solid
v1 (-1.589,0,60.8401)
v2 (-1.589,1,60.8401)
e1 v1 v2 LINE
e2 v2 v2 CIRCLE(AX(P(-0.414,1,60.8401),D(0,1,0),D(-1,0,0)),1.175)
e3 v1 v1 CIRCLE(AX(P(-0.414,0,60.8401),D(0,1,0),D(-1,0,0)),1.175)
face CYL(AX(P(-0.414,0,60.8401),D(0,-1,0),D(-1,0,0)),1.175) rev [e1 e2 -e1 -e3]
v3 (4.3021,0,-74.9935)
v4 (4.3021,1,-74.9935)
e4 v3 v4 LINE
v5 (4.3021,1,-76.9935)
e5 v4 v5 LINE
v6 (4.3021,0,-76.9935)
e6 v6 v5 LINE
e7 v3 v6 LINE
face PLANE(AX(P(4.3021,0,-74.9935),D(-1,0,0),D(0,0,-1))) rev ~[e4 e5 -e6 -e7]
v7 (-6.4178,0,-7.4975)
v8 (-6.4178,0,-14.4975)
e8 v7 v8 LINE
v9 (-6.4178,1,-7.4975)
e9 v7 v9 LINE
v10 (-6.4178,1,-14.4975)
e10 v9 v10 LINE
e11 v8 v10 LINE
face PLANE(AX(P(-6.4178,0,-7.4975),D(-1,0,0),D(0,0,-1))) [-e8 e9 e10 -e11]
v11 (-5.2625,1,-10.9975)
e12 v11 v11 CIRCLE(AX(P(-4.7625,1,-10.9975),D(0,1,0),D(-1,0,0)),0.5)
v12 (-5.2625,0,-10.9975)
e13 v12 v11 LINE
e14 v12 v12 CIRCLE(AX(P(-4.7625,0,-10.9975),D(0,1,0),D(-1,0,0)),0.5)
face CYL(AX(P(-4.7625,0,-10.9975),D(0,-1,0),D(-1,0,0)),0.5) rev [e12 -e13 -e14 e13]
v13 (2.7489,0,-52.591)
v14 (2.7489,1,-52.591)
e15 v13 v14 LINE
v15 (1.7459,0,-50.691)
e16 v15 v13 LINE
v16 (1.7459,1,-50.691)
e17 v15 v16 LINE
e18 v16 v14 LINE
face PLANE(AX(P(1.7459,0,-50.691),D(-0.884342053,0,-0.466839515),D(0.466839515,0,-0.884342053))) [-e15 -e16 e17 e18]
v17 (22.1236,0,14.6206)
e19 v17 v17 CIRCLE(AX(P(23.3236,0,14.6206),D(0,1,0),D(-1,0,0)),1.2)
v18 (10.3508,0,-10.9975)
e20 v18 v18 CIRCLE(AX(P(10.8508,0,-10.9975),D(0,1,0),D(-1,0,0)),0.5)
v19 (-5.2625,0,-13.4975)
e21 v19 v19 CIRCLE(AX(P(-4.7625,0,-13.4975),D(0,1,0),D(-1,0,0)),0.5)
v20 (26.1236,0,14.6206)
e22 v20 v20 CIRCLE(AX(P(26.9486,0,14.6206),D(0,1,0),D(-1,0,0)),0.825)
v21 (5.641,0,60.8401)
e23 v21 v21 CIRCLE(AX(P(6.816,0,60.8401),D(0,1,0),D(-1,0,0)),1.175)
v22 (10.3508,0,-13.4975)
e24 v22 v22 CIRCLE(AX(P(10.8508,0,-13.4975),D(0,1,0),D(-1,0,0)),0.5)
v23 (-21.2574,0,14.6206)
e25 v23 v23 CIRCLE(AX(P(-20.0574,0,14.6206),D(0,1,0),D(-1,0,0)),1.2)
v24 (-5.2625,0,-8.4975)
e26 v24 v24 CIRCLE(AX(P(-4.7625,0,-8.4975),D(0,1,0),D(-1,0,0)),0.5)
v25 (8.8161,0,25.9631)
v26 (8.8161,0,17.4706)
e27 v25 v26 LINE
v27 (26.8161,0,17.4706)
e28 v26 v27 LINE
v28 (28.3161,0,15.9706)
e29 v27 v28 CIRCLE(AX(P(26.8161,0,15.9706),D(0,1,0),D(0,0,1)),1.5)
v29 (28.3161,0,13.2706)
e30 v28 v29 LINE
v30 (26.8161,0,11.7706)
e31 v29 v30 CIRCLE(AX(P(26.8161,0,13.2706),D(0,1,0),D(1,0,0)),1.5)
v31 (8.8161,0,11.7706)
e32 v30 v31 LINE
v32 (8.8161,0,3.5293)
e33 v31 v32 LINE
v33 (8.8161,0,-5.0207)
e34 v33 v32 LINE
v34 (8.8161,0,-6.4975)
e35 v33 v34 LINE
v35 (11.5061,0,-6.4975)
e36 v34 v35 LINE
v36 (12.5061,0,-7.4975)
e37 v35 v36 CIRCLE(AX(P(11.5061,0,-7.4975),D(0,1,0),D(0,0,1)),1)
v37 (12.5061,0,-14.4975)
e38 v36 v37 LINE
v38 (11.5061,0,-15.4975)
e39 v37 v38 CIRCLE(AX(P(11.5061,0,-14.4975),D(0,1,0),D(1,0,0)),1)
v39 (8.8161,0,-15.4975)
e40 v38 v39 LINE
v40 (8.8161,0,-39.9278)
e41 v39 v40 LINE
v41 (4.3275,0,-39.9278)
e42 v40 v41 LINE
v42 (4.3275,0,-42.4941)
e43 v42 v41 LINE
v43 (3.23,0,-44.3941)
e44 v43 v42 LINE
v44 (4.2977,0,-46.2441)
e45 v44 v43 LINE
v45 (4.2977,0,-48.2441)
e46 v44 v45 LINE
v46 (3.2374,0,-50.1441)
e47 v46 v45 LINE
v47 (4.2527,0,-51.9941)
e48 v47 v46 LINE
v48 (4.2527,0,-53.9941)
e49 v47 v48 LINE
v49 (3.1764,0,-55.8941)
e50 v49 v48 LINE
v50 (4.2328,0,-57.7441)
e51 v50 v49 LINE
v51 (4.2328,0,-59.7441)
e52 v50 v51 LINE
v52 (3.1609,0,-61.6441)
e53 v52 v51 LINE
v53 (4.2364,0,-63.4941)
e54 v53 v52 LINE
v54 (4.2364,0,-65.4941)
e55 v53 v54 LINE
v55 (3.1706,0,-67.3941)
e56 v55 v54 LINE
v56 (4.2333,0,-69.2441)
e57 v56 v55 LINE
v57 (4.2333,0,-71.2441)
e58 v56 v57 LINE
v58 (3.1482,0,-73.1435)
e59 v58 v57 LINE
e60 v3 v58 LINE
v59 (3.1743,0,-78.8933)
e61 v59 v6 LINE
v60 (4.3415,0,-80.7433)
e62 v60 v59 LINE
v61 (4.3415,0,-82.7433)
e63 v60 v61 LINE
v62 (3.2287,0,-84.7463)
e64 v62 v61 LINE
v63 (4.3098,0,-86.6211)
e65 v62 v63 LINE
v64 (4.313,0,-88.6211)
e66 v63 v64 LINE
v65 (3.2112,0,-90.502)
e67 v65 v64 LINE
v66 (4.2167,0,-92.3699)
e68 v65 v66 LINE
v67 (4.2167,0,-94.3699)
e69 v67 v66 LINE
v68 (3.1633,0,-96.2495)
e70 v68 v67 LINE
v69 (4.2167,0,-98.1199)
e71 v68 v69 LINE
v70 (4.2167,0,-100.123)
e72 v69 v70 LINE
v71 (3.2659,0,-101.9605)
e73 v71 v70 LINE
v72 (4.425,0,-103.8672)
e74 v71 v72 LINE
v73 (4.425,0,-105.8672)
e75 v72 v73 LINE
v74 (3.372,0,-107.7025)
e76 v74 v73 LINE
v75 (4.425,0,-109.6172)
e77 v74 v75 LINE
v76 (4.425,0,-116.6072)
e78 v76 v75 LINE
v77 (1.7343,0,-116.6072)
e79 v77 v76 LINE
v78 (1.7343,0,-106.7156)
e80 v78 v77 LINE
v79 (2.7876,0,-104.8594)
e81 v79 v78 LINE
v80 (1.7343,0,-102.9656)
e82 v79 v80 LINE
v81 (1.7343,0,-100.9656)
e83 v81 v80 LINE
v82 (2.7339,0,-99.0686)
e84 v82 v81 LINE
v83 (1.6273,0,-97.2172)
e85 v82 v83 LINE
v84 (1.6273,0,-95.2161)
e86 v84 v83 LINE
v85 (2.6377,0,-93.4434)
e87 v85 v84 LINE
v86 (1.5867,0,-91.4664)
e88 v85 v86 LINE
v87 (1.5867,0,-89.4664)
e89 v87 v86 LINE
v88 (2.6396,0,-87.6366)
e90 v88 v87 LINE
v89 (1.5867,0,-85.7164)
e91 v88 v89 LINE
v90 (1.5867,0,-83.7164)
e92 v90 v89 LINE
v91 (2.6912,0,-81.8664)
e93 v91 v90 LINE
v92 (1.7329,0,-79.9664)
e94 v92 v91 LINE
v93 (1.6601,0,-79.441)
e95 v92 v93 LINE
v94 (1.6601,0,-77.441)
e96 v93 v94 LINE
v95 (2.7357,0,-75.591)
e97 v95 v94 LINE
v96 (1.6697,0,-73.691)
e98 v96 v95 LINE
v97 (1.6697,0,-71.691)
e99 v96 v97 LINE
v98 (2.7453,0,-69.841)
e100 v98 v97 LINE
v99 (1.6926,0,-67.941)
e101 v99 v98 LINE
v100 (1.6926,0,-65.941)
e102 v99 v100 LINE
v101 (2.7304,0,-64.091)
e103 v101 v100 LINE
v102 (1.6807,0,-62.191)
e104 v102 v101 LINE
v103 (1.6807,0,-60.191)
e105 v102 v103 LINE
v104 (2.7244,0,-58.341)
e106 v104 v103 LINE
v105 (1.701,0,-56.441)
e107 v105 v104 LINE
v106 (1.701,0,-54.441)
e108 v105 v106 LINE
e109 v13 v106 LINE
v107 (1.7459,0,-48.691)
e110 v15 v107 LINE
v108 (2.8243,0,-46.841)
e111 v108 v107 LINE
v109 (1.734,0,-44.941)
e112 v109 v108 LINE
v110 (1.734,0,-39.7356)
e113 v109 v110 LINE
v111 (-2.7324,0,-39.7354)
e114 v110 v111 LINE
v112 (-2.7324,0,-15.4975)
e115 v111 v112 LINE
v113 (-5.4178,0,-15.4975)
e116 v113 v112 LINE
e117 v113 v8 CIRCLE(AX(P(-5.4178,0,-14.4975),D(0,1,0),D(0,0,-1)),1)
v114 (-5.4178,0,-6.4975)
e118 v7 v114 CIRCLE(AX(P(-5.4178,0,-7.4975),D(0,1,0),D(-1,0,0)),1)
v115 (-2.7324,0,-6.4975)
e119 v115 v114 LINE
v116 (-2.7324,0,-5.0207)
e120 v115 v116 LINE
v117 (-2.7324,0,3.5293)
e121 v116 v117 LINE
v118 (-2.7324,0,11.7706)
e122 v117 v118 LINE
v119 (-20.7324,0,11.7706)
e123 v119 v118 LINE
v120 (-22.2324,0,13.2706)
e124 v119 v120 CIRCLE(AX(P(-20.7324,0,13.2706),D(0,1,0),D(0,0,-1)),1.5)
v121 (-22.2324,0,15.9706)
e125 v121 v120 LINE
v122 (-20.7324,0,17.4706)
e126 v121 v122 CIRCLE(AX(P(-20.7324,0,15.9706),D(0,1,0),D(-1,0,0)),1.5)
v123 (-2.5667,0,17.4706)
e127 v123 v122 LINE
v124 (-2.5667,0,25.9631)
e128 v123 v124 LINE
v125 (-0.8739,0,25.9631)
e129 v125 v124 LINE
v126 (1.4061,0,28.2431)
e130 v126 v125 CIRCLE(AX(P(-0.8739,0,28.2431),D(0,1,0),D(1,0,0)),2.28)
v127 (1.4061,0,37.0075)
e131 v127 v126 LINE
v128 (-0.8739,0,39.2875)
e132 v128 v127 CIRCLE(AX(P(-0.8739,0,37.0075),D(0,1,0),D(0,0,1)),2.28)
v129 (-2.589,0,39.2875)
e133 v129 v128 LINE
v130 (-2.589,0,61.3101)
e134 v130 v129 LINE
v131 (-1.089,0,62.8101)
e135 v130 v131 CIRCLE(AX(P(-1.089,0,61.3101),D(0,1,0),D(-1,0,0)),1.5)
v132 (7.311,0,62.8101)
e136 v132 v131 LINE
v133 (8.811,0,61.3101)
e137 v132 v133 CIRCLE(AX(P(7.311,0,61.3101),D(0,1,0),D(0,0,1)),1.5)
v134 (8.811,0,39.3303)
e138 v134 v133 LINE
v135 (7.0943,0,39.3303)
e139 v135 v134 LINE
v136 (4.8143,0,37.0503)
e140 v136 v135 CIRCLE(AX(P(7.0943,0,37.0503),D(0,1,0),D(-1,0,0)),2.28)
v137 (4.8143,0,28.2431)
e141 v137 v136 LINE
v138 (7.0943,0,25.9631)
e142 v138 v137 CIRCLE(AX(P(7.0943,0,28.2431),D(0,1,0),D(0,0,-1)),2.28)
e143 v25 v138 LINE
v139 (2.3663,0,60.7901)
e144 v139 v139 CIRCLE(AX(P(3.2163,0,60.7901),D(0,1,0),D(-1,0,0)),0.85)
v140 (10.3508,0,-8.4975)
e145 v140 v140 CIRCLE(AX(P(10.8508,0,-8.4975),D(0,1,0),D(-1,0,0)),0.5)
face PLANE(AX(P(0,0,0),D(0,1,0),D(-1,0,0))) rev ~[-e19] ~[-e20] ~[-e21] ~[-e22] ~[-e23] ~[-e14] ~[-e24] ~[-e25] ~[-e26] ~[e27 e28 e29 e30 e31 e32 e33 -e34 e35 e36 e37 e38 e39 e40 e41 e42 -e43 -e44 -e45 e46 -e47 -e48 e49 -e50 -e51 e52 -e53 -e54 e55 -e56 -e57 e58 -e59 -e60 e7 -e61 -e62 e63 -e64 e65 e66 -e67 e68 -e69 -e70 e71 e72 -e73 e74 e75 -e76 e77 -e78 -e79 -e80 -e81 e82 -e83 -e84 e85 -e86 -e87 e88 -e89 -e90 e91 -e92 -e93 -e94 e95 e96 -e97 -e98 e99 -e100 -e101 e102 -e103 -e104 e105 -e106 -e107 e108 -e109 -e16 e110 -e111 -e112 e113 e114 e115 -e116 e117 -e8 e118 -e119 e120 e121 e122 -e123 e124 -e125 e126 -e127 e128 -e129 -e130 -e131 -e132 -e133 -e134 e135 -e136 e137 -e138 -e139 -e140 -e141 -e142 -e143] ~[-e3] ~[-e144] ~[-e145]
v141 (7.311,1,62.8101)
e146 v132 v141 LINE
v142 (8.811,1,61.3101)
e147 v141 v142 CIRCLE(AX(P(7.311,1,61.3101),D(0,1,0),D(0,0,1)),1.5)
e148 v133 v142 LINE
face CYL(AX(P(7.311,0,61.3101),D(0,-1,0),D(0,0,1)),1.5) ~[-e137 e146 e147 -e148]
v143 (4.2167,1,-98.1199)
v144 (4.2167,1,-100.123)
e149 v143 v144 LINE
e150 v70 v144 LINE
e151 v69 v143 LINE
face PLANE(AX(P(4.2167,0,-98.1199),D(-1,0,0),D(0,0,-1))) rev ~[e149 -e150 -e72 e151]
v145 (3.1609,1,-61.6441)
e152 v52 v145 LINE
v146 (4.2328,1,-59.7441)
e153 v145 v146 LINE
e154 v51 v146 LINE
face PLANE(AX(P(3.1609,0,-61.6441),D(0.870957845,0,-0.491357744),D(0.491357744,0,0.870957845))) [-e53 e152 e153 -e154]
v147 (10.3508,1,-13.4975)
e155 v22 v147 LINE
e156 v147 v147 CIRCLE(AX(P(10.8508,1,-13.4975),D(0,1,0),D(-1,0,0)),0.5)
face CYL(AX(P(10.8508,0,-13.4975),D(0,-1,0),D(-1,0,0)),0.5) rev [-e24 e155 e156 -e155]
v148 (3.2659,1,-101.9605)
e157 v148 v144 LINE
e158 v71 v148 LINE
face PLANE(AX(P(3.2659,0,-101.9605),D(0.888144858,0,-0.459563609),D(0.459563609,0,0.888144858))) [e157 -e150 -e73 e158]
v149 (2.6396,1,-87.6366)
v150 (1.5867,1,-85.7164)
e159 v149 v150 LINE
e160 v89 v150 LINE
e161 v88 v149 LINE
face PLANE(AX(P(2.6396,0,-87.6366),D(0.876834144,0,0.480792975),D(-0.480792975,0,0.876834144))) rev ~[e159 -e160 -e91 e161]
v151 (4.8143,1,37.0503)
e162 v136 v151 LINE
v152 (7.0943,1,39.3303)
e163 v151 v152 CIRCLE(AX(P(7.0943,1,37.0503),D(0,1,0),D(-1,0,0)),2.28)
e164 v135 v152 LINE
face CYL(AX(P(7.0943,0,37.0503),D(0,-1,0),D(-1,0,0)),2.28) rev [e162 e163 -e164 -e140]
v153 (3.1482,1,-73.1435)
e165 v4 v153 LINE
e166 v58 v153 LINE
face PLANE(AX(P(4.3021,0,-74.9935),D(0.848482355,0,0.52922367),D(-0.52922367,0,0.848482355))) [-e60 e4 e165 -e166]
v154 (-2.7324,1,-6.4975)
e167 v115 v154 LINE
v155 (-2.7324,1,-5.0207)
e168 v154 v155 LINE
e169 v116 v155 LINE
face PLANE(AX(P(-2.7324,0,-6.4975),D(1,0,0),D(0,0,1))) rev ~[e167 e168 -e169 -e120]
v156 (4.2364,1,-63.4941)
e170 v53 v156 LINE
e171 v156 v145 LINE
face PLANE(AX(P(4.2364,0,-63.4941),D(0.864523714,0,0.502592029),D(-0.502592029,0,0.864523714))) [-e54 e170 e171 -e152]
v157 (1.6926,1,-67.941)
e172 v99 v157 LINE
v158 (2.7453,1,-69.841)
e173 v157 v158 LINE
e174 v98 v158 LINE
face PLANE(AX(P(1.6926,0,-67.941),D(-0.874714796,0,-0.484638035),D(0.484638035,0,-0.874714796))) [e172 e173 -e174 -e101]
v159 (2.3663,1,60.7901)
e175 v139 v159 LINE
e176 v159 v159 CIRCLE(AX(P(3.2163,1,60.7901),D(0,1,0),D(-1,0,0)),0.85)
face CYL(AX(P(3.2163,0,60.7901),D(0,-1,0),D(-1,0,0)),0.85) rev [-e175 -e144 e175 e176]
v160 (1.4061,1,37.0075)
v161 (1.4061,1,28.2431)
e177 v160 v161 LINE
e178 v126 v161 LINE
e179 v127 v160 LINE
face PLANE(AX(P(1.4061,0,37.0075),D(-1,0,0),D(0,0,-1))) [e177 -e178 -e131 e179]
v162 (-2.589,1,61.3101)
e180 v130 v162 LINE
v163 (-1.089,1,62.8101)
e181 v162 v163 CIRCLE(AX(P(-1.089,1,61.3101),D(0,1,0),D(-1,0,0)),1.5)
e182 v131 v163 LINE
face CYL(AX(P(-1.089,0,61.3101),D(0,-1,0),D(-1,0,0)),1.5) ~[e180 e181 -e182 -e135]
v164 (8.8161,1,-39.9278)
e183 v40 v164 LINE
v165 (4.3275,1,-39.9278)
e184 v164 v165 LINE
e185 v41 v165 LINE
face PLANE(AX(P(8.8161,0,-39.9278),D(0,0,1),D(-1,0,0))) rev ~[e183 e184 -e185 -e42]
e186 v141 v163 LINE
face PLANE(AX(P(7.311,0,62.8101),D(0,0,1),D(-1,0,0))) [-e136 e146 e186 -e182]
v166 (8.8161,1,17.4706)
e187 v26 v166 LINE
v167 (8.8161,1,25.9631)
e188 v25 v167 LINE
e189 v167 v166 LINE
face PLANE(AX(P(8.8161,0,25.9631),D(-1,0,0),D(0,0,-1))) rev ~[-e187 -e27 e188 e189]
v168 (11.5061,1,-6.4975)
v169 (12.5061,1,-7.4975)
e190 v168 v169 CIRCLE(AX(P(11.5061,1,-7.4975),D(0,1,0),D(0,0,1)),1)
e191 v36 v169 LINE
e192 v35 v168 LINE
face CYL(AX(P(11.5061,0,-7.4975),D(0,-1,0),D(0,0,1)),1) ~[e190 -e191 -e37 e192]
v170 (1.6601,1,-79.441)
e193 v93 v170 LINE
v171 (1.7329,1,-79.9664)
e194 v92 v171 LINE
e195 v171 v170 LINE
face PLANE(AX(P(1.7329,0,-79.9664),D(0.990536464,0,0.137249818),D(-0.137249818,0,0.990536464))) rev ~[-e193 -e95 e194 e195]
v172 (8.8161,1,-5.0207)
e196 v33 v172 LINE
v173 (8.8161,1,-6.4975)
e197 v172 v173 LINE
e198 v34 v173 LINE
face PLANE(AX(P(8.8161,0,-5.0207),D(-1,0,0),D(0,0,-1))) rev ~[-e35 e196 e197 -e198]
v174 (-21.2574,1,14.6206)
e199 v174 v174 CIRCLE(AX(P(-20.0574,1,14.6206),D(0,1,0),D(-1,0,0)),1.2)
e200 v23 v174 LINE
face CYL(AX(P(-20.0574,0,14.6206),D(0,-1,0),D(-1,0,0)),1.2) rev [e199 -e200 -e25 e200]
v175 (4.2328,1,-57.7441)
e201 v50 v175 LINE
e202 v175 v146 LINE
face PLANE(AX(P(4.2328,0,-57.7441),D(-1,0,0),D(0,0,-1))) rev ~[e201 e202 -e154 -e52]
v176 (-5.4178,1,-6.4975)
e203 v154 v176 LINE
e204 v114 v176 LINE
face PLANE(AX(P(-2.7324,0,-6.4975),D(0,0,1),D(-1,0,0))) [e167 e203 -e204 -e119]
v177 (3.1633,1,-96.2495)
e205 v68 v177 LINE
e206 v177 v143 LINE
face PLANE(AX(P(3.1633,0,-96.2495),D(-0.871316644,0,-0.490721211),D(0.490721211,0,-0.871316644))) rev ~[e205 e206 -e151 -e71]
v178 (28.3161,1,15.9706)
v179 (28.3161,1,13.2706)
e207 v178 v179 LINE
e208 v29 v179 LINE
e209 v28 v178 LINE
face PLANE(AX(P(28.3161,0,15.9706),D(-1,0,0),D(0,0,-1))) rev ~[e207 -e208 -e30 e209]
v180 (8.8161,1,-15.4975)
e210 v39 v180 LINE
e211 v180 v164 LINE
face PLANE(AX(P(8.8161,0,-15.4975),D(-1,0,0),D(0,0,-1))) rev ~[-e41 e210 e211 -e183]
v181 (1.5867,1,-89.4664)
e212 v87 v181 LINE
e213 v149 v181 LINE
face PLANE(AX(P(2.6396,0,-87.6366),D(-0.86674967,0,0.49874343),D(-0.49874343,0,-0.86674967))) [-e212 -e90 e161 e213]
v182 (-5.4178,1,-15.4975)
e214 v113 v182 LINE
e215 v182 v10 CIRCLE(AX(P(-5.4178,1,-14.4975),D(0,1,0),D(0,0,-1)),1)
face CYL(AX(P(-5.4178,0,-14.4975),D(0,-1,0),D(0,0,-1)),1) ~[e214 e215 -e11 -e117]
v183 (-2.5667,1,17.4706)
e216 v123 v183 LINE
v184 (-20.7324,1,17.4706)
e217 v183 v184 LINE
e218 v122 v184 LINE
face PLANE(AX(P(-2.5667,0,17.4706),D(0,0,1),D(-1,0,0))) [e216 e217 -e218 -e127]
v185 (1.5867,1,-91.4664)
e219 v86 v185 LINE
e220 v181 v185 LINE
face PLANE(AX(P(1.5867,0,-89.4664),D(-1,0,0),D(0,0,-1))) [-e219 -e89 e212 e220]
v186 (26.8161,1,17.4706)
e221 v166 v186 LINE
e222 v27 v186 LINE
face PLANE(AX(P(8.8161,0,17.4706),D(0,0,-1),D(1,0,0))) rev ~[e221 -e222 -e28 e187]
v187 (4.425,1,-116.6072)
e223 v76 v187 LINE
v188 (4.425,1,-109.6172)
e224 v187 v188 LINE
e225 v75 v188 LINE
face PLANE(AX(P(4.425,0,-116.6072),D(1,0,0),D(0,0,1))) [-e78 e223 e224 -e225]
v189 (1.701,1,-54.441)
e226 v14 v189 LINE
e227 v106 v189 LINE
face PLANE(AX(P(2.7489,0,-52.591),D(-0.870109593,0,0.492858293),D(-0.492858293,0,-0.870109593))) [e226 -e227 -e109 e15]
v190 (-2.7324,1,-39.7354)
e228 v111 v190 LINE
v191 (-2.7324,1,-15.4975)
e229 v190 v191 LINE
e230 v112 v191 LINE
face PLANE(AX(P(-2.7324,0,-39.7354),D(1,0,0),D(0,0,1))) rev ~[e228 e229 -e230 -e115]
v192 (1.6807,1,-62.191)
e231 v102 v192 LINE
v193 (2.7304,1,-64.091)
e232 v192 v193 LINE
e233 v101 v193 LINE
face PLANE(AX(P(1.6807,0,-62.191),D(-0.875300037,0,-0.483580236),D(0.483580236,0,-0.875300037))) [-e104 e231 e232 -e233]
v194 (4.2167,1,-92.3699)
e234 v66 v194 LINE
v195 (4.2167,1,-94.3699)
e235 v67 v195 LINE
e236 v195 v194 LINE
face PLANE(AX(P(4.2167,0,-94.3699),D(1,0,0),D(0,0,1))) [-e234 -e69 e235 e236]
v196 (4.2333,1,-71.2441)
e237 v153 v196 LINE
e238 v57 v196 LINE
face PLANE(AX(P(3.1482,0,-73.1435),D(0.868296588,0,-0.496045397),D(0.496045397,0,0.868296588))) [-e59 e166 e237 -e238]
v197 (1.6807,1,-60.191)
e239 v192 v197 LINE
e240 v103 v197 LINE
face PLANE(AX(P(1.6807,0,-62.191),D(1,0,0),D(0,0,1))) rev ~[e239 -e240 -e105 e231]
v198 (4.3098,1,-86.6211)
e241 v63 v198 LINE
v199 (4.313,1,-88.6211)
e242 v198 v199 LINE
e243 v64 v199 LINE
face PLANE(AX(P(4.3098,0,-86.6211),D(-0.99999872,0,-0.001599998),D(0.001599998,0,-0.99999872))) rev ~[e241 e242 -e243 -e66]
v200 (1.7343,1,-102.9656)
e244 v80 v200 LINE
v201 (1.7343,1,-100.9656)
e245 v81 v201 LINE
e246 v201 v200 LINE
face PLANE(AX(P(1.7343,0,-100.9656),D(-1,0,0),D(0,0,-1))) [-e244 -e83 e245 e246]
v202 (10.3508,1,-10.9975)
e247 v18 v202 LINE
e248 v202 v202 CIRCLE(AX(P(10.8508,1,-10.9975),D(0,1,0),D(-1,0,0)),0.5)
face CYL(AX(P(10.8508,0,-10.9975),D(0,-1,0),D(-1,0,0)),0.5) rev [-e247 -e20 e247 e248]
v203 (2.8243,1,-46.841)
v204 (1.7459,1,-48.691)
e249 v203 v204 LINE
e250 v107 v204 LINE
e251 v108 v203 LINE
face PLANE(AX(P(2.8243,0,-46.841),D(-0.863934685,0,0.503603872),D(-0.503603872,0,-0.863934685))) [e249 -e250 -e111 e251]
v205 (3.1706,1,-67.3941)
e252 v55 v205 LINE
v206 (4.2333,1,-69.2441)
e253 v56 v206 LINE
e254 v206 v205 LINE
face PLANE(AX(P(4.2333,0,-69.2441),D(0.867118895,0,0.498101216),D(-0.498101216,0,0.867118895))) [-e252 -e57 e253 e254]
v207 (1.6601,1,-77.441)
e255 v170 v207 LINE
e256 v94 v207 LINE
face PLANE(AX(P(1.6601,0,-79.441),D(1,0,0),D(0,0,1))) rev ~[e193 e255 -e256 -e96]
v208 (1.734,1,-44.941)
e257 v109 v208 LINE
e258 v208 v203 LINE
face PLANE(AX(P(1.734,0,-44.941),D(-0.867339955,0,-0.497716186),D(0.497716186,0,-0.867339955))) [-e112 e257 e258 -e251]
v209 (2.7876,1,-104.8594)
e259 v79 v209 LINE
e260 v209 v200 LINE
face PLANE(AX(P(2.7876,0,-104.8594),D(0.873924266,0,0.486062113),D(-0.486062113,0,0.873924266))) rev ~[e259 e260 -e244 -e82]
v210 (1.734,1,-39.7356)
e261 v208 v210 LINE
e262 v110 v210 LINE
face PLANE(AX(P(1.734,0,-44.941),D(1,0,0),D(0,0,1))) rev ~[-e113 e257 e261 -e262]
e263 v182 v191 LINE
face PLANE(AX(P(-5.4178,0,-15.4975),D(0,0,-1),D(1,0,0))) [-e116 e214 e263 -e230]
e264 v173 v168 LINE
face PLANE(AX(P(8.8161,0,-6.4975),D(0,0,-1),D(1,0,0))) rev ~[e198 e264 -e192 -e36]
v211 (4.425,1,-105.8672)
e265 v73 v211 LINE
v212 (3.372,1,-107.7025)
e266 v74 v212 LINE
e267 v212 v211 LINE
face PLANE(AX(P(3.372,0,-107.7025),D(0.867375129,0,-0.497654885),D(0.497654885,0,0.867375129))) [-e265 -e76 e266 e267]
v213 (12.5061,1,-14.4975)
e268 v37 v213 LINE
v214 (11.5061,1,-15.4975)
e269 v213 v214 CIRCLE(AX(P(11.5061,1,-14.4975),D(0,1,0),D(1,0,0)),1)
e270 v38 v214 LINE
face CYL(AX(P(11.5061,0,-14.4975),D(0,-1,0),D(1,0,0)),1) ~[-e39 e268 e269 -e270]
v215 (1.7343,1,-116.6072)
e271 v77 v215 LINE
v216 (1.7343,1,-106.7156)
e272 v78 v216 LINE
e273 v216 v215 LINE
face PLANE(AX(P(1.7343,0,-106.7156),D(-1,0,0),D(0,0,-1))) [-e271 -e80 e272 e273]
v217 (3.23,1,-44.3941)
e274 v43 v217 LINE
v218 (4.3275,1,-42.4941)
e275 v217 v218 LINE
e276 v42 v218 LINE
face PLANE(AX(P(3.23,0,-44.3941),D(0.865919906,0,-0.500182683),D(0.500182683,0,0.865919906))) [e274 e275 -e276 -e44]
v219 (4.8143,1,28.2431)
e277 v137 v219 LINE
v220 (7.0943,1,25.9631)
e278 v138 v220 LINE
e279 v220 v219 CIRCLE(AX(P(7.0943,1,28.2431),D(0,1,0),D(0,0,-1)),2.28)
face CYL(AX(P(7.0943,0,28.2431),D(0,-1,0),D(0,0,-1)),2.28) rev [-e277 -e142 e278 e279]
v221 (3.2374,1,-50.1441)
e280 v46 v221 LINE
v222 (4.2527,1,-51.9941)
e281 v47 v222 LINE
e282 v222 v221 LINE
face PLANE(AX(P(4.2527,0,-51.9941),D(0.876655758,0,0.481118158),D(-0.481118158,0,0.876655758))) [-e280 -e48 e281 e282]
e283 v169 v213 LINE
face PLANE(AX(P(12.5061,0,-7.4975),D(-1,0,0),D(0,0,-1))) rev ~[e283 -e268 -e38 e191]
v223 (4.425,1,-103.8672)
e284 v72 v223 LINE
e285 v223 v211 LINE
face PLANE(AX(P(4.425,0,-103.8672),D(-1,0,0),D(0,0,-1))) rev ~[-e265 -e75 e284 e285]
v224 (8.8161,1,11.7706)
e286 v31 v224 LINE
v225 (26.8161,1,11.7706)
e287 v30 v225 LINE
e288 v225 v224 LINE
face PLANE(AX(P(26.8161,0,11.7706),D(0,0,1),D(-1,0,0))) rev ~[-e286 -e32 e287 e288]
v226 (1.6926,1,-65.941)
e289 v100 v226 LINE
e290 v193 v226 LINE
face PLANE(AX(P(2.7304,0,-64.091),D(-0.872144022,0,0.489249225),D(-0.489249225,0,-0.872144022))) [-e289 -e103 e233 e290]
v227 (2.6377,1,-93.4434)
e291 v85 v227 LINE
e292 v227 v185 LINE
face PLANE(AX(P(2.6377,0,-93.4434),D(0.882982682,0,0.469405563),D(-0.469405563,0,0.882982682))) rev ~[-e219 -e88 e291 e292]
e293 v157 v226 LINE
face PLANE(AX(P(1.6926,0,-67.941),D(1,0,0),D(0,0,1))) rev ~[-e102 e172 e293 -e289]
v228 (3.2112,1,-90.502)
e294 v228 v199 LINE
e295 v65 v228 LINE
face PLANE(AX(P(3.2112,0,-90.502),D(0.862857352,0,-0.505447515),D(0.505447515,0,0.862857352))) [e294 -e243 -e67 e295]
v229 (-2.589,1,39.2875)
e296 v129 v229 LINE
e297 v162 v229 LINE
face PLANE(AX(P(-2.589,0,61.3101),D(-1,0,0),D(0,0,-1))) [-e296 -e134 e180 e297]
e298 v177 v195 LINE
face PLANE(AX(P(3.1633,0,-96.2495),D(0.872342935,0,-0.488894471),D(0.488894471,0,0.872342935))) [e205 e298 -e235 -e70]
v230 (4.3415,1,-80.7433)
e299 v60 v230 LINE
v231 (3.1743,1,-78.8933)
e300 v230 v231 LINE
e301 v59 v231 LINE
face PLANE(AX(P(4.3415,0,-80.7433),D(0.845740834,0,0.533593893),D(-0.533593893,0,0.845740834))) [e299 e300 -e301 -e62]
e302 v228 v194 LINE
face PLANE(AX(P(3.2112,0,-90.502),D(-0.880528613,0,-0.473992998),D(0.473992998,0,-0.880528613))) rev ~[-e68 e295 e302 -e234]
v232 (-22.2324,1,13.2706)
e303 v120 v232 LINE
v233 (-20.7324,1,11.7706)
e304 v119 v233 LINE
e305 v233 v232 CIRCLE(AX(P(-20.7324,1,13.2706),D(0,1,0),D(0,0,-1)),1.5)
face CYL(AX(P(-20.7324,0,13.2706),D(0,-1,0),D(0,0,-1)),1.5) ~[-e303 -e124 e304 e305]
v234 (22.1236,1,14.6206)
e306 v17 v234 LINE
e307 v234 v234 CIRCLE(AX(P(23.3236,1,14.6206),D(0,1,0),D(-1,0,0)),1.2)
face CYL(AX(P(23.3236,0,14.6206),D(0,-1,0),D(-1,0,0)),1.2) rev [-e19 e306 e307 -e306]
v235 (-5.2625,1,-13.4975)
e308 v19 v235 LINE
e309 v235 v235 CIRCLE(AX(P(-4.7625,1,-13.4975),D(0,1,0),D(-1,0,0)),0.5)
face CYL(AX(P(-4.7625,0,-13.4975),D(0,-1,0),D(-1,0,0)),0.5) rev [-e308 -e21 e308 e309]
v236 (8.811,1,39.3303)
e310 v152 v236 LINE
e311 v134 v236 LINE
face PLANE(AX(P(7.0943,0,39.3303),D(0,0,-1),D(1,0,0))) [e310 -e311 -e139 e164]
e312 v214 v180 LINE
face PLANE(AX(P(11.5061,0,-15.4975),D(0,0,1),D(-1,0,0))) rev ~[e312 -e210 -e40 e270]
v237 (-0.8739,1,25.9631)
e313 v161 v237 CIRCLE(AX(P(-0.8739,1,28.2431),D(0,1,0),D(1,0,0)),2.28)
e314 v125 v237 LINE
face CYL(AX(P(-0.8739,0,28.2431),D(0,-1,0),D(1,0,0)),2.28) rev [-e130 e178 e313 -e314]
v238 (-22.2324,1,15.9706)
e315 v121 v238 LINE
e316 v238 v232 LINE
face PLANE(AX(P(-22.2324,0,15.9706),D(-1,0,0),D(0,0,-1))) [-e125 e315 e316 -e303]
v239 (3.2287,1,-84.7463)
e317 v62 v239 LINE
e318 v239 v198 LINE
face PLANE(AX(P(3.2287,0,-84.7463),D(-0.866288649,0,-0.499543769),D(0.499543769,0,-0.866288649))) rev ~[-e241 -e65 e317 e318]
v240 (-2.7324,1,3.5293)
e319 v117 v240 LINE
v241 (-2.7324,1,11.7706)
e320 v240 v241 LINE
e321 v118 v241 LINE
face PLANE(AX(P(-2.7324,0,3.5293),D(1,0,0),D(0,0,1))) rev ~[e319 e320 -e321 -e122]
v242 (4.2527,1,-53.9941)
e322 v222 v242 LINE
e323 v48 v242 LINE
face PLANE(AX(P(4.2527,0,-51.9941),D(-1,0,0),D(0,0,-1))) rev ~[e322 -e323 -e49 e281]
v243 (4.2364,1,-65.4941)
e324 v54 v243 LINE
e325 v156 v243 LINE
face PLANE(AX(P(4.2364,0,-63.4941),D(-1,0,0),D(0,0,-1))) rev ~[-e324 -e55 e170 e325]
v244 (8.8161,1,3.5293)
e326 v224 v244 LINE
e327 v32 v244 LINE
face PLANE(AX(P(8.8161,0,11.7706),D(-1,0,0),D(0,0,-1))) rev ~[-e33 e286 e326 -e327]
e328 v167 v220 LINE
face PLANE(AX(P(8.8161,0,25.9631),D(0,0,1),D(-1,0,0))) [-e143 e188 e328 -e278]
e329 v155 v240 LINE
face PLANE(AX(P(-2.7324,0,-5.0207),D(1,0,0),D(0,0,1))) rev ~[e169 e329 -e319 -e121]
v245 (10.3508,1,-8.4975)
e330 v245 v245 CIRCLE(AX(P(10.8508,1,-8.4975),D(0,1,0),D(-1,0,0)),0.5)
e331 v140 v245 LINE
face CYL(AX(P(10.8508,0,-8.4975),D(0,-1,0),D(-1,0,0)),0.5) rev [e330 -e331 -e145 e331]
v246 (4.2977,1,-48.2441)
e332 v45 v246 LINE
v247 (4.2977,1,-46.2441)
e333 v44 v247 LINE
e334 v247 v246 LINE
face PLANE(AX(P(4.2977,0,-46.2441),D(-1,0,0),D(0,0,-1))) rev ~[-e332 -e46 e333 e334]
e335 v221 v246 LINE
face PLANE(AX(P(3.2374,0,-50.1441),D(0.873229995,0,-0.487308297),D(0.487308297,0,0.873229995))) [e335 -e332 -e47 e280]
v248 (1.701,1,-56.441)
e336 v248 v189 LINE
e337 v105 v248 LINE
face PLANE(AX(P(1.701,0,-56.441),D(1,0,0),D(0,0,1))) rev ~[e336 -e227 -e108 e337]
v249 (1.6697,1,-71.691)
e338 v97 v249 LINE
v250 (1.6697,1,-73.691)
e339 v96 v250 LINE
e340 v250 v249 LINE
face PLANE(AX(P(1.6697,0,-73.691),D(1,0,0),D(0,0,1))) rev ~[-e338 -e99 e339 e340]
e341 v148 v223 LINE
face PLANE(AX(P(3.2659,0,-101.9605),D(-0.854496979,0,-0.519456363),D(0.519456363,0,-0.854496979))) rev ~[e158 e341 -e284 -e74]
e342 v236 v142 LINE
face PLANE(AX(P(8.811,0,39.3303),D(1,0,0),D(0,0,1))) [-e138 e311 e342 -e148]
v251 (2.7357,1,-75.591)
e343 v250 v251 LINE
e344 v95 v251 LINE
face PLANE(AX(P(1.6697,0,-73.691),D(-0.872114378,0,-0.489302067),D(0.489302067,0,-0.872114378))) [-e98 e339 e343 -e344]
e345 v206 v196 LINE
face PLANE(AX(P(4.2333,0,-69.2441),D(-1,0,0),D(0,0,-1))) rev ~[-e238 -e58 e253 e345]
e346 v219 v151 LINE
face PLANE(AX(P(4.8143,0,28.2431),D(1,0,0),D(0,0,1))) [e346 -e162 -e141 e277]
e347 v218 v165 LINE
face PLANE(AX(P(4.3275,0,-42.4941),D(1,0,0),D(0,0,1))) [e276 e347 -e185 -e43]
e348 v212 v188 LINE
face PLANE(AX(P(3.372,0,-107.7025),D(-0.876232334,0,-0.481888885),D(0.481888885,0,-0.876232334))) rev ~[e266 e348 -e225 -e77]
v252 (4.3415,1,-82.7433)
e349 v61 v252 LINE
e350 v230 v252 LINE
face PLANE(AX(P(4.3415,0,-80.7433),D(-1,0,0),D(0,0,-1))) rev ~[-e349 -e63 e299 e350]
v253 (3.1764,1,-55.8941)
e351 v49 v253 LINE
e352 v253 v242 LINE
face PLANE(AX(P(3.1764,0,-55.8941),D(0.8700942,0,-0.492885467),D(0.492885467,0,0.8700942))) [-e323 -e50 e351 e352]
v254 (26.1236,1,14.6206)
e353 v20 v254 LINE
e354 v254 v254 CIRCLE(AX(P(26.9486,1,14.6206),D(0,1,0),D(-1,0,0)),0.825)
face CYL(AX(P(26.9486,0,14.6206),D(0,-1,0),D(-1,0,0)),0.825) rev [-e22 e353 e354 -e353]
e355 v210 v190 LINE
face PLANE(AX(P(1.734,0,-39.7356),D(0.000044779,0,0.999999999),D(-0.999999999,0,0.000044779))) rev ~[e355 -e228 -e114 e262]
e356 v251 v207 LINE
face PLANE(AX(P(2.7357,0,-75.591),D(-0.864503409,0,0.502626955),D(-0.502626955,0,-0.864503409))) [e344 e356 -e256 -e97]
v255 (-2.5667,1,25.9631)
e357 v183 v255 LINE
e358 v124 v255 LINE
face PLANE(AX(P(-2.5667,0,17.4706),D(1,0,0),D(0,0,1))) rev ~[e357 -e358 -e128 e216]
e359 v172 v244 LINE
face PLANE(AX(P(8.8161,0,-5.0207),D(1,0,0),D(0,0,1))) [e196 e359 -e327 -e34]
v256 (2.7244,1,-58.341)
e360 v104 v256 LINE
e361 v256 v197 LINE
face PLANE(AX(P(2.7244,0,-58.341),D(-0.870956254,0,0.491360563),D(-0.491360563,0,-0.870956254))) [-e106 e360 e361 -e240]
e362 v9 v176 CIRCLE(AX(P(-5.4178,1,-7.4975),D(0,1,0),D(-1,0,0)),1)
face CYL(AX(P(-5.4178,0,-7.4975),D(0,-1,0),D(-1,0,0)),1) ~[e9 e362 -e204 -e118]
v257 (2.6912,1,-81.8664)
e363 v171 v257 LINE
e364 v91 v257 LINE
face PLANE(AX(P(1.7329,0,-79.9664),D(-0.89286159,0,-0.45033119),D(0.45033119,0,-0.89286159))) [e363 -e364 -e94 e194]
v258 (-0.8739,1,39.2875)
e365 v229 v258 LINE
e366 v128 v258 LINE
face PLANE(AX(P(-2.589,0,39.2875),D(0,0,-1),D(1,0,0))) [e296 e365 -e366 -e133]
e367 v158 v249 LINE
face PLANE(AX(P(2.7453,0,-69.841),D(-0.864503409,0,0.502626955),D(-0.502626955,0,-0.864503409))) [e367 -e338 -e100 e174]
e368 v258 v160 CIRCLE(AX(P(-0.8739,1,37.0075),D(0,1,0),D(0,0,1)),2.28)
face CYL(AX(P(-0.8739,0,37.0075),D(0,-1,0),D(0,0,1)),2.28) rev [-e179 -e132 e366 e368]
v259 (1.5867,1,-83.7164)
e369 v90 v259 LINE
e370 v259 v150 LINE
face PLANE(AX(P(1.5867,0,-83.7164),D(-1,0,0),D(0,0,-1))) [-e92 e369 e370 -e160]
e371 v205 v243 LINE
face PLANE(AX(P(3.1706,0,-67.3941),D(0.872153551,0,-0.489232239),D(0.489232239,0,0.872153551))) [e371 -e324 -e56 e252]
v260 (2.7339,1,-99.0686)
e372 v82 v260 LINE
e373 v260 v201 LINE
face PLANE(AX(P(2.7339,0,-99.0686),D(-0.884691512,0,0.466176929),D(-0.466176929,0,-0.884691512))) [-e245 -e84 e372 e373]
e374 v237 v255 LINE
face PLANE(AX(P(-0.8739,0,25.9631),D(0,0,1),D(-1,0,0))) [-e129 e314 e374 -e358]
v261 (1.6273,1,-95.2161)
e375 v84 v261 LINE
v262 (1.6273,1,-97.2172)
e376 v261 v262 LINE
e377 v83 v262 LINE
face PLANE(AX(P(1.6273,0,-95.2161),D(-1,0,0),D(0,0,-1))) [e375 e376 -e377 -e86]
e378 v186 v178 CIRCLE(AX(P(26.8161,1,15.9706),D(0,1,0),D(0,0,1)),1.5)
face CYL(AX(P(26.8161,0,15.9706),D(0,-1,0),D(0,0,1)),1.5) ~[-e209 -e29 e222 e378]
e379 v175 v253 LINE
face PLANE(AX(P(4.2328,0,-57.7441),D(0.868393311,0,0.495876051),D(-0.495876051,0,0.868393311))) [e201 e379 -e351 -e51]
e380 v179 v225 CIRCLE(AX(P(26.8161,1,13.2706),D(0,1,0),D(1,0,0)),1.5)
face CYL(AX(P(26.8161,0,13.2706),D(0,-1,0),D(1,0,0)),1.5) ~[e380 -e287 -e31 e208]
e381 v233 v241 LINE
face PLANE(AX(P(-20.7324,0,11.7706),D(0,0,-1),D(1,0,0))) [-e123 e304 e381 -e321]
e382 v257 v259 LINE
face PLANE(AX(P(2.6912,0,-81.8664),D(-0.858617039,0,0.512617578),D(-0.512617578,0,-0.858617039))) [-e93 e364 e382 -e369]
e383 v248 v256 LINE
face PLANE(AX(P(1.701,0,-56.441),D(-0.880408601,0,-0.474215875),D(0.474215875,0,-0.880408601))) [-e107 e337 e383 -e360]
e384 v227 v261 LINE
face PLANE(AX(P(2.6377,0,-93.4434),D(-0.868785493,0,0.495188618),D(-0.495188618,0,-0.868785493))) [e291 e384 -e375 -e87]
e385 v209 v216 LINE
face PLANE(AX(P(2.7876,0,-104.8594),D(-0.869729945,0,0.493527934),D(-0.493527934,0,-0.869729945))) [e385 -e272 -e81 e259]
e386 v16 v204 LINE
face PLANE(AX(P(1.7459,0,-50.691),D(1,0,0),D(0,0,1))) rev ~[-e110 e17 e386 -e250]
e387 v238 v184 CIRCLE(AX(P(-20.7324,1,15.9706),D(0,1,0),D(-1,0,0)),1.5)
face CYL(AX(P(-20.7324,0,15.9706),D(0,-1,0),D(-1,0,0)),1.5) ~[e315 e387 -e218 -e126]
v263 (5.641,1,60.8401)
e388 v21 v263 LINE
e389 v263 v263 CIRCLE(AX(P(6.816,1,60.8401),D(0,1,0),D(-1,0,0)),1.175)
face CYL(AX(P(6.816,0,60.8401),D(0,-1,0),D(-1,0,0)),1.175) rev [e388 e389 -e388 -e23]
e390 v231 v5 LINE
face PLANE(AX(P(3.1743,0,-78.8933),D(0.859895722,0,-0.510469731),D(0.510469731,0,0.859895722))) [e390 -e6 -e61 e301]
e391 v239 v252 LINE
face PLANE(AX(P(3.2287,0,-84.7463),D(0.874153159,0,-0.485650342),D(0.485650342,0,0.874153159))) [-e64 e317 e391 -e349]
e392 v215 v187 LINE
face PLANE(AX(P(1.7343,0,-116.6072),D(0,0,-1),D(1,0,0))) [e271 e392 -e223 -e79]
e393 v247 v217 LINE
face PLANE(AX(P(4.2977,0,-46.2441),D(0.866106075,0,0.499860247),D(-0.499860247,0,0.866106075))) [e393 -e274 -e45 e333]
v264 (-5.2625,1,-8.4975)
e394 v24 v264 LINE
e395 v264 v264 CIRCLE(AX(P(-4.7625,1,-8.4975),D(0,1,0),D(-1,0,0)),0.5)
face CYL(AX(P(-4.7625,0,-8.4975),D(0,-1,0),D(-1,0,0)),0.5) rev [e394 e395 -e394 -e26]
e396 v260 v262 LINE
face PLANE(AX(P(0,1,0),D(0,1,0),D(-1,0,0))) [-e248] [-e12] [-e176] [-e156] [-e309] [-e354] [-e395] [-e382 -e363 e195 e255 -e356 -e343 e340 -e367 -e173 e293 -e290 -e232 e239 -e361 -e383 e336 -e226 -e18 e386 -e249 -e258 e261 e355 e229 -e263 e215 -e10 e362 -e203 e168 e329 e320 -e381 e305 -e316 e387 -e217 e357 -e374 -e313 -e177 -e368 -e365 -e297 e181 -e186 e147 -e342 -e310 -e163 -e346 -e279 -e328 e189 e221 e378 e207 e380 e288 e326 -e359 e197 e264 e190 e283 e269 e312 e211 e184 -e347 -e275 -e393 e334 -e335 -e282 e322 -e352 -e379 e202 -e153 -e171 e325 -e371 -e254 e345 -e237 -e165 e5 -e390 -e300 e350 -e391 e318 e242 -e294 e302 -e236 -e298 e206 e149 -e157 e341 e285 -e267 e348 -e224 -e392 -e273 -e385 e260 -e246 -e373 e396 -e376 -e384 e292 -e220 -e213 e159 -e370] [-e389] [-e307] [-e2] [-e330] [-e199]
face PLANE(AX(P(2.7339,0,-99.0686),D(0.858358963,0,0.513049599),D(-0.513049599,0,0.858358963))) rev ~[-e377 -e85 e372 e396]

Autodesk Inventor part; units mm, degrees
ref_plane "YZ Plane" through (0, 0, 0) normal (1, 0, 0) x (0, 1, 0)
ref_plane "XZ Plane" through (0, 0, 0) normal (0, 1, 0) x (-1, 0, 0)
ref_plane "XY Plane" through (0, 0, 0) normal (0, 0, 1) x (1, 0, 0)
sketch "Sketch1" plane through (0, 0, 0) normal (0, 1, 0) x (-1, 0, 0)
  line L0 (-8.8161, 25.9631) -> (-8.8161, 17.4706)
  line L1 (2.7324, -39.7354) -> (2.7324, -15.4975)
  line L2 (-8.811, 39.3303) -> (-8.811, 61.3101)
  line L3 (-7.311, 62.8101) -> (1.089, 62.8101)
  line L4 (2.589, 61.3101) -> (2.589, 39.2875)
  circle A0 centre (0.414, 60.8401) radius 1.175
  circle A1 centre (-6.816, 60.8401) radius 1.175
  line L5 (-8.8161, 25.9631) -> (-7.0943, 25.9631)
  line L6 (-4.8143, 28.2431) -> (-4.8143, 37.0503)
  line L7 (-7.0943, 39.3303) -> (-8.811, 39.3303)
  line L8 (2.589, 39.2875) -> (0.8739, 39.2875)
  line L9 (-1.4061, 37.0075) -> (-1.4061, 28.2431)
  line L10 (0.8739, 25.9631) -> (2.5667, 25.9631)
  arc A2 (0.8739, 39.2875) -> (-1.4061, 37.0075) centre (0.8739, 37.0075) ccw
  arc A3 (-1.4061, 28.2431) -> (0.8739, 25.9631) centre (0.8739, 28.2431) ccw
  arc A4 (-7.0943, 25.9631) -> (-4.8143, 28.2431) centre (-7.0943, 28.2431) ccw
  arc A5 (-4.8143, 37.0503) -> (-7.0943, 39.3303) centre (-7.0943, 37.0503) ccw
  line L11 (2.5667, 17.4706) -> (20.7324, 17.4706)
  line L12 (22.2324, 15.9706) -> (22.2324, 13.2706)
  line L13 (20.7324, 11.7706) -> (2.7324, 11.7706)
  line L14 (-8.8161, 17.4706) -> (-26.8161, 17.4706)
  line L15 (-28.3161, 15.9706) -> (-28.3161, 13.2706)
  line L16 (-26.8161, 11.7706) -> (-8.8161, 11.7706)
  line L17 (2.7324, -6.4975) -> (5.4178, -6.4975)
  line L18 (6.4178, -7.4975) -> (6.4178, -14.4975)
  line L19 (5.4178, -15.4975) -> (2.7324, -15.4975)
  line L20 (-8.8161, -6.4975) -> (-11.5061, -6.4975)
  line L21 (-12.5061, -7.4975) -> (-12.5061, -14.4975)
  line L22 (-11.5061, -15.4975) -> (-8.8161, -15.4975)
  circle A6 centre (-3.2163, 60.7901) radius 0.85
  circle A7 centre (-10.8508, -10.9975) radius 0.5
  circle A8 centre (-10.8508, -13.4975) radius 0.5
  circle A9 centre (4.7625, -10.9975) radius 0.5
  circle A10 centre (4.7625, -13.4975) radius 0.5
  circle A11 centre (-23.3236, 14.6206) radius 1.2
  circle A12 centre (-26.9486, 14.6206) radius 0.825
  circle A13 centre (20.0574, 14.6206) radius 1.2
  line L23 (-8.8161, 11.7706) -> (-8.8161, 3.5293)
  line L24 (2.5667, 17.4706) -> (2.5667, 25.9631)
  line L25 (2.7324, 3.5293) -> (2.7324, 11.7706)
  line L26 (-8.8161, -5.0207) -> (-8.8161, -6.4975)
  line L27 (2.7324, -6.4975) -> (2.7324, -5.0207)
  line L28 (-8.8161, -15.4975) -> (-8.8161, -39.9278)
  arc A14 (2.589, 61.3101) -> (1.089, 62.8101) centre (1.089, 61.3101) ccw
  arc A15 (-7.311, 62.8101) -> (-8.811, 61.3101) centre (-7.311, 61.3101) ccw
  arc A16 (20.7324, 11.7706) -> (22.2324, 13.2706) centre (20.7324, 13.2706) ccw
  arc A17 (22.2324, 15.9706) -> (20.7324, 17.4706) centre (20.7324, 15.9706) ccw
  arc A18 (-28.3161, 13.2706) -> (-26.8161, 11.7706) centre (-26.8161, 13.2706) ccw
  arc A19 (-26.8161, 17.4706) -> (-28.3161, 15.9706) centre (-26.8161, 15.9706) ccw
  line L29 (-8.8161, -39.9278) -> (-4.3275, -39.9278)
  line L30 (-1.734, -39.7356) -> (2.7324, -39.7354)
  line L31 (-1.734, -44.941) -> (-1.734, -39.7356)
  line L32 (-4.3275, -42.4941) -> (-4.3275, -39.9278)
  line L33 (-3.23, -44.3941) -> (-4.3275, -42.4941)
  line L34 (-3.23, -44.3941) -> (-0.6911, -44.3937) construction
  line L35 (-4.2977, -46.2441) -> (-3.23, -44.3941)
  line L36 (-3.2374, -50.1441) -> (-4.2977, -48.2441)
  line L37 (-4.2527, -51.9941) -> (-3.2374, -50.1441)
  line L38 (-3.1764, -55.8941) -> (-4.2527, -53.9941)
  line L39 (-4.2328, -57.7441) -> (-3.1764, -55.8941)
  line L40 (-3.1609, -61.6441) -> (-4.2328, -59.7441)
  line L41 (-4.2364, -63.4941) -> (-3.1609, -61.6441)
  line L42 (-3.1706, -67.3941) -> (-4.2364, -65.4941)
  line L43 (-4.2333, -69.2441) -> (-3.1706, -67.3941)
  line L44 (-3.1482, -73.1435) -> (-4.2333, -71.2441)
  line L45 (-4.3021, -74.9935) -> (-3.1482, -73.1435)
  line L46 (-3.1743, -78.8933) -> (-4.3021, -76.9935)
  line L47 (-4.3415, -80.7433) -> (-3.1743, -78.8933)
  line L48 (-3.2287, -84.7463) -> (-4.3415, -82.7433)
  line L49 (-2.8243, -46.841) -> (-1.7459, -48.691)
  line L50 (-1.734, -44.941) -> (-2.8243, -46.841)
  line L51 (-1.7459, -50.691) -> (-2.7489, -52.591)
  line L52 (-2.7489, -52.591) -> (-1.701, -54.441)
  line L53 (-1.701, -56.441) -> (-2.7244, -58.341)
  line L54 (-2.7244, -58.341) -> (-1.6807, -60.191)
  line L55 (-1.6807, -62.191) -> (-2.7304, -64.091)
  line L56 (-2.7304, -64.091) -> (-1.6926, -65.941)
  line L57 (-1.6926, -67.941) -> (-2.7453, -69.841)
  line L58 (-2.7453, -69.841) -> (-1.6697, -71.691)
  line L59 (-1.6697, -73.691) -> (-2.7357, -75.591)
  line L60 (-2.7357, -75.591) -> (-1.6601, -77.441)
  line L61 (-1.7329, -79.9664) -> (-2.6912, -81.8664)
  line L62 (-2.6912, -81.8664) -> (-1.5867, -83.7164)
  line L63 (-1.7329, -79.9664) -> (-1.6601, -79.441)
  line L64 (-4.3021, -74.9935) -> (-4.3021, -76.9935)
  line L65 (-4.3415, -80.7433) -> (-4.3415, -82.7433)
  line L66 (-4.2364, -63.4941) -> (-4.2364, -65.4941)
  line L67 (-4.2333, -69.2441) -> (-4.2333, -71.2441)
  line L68 (-4.2977, -46.2441) -> (-4.2977, -48.2441)
  line L69 (-4.2527, -51.9941) -> (-4.2527, -53.9941)
  line L70 (-4.2328, -57.7441) -> (-4.2328, -59.7441)
  line L71 (-1.7459, -50.691) -> (-1.7459, -48.691)
  line L72 (-1.701, -56.441) -> (-1.701, -54.441)
  line L73 (-1.6807, -62.191) -> (-1.6807, -60.191)
  line L74 (-1.6926, -67.941) -> (-1.6926, -65.941)
  line L75 (-1.6601, -79.441) -> (-1.6601, -77.441)
  line L76 (-1.6697, -73.691) -> (-1.6697, -71.691)
  line L77 (-3.372, -107.7025) -> (-4.425, -109.6172)
  line L78 (-3.372, -107.7025) -> (-4.425, -105.8672)
  line L79 (-3.2287, -84.7463) -> (-4.3098, -86.6211)
  line L80 (-3.2659, -101.9605) -> (-4.2167, -100.123)
  line L81 (-3.2659, -101.9605) -> (-4.425, -103.8672)
  line L82 (-3.1633, -96.2495) -> (-4.2167, -94.3699)
  line L83 (-3.1633, -96.2495) -> (-4.2167, -98.1199)
  line L84 (-3.2112, -90.502) -> (-4.313, -88.6211)
  line L85 (-3.2112, -90.502) -> (-4.2167, -92.3699)
  line L86 (-2.6377, -93.4434) -> (-1.6273, -95.2161)
  line L87 (-2.6377, -93.4434) -> (-1.5867, -91.4664)
  line L88 (-2.6396, -87.6366) -> (-1.5867, -89.4664)
  line L89 (-2.6396, -87.6366) -> (-1.5867, -85.7164)
  line L90 (-2.7876, -104.8594) -> (-1.7343, -106.7156)
  line L91 (-2.7876, -104.8594) -> (-1.7343, -102.9656)
  line L92 (-2.7339, -99.0686) -> (-1.6273, -97.2172)
  line L93 (-2.7339, -99.0686) -> (-1.7343, -100.9656)
  line L94 (-4.3098, -86.6211) -> (-4.313, -88.6211)
  line L95 (-1.5867, -83.7164) -> (-1.5867, -85.7164)
  line L96 (-1.5867, -89.4664) -> (-1.5867, -91.4664)
  line L97 (-1.6273, -95.2161) -> (-1.6273, -97.2172)
  line L98 (-4.2167, -94.3699) -> (-4.2167, -92.3699)
  line L99 (-4.2167, -98.1199) -> (-4.2167, -100.123)
  line L100 (-1.7343, -100.9656) -> (-1.7343, -102.9656)
  line L101 (-4.425, -103.8672) -> (-4.425, -105.8672)
  line L102 (-1.7343, -106.7156) -> (-1.7343, -116.6072)
  line L103 (-1.7343, -116.6072) -> (-4.425, -116.6072)
  line L104 (-4.425, -116.6072) -> (-4.425, -109.6172)
  line L105 (-8.8161, -5.0207) -> (-8.8161, 3.5293)
  line L106 (2.7324, -5.0207) -> (2.7324, 3.5293)
  circle A20 centre (-10.8508, -8.4975) radius 0.5
  circle A21 centre (4.7625, -8.4975) radius 0.5
  arc A22 (5.4178, -15.4975) -> (6.4178, -14.4975) centre (5.4178, -14.4975) ccw
  arc A23 (6.4178, -7.4975) -> (5.4178, -6.4975) centre (5.4178, -7.4975) ccw
  arc A24 (-11.5061, -6.4975) -> (-12.5061, -7.4975) centre (-11.5061, -7.4975) ccw
  arc A25 (-12.5061, -14.4975) -> (-11.5061, -15.4975) centre (-11.5061, -14.4975) ccw
  point P0 (-8.811, 62.8101)
  point P1 (2.589, 62.8101)
  point P2 (-6.9279, 18.3671)
  point P3 (0.6606, 18.3671)
  point P4 (-6.9323, 25.0551)
  point P5 (22.2324, 11.7706)
  point P6 (22.2324, 17.4706)
  point P7 (-28.3161, 11.7706)
  point P8 (-28.3161, 17.4706)
  point P9 (6.4178, -15.4975)
  point P10 (6.4178, -6.4975)
  point P11 (-12.5061, -15.4975)
  point P12 (-12.5061, -6.4975)
  point P13 (-3.7676, -49.1941)
  point P14 (-3.6908, -72.1938)
  point P15 (-3.7382, -77.9434)
  point P16 (-2.139, -82.7914)
  point P17 (-3.7451, -51.0691)
  point P18 (-8.8161, 21.7168)
  point P19 (-8.8161, 7.6499)
  point P20 (2.7324, 7.6499)
  point P21 (-28.3161, 15.4069)
  point P22 (-28.3161, 13.8342)
  dimension "d275" = 1
  dimension "d276" = 2.4
  dimension "d277" = 2.4
  dimension "d280" = 1.5
  dimension "d281" = 2.35
  dimension "d282" = 2.35
  dimension "d284" = 1.65
  dimension "d286" = 1.7
  dimension "d288" = 0.795
  dimension "d289" = 0.795
  dimension "d290" = 1.17
  dimension "d291" = 1.6
  dimension "d292" = 1.575
  dimension "d293" = 1.5
  dimension "d294" = 1.5
  dimension "d296" = 0.975
  dimension "d297" = 2.175
  dimension "d313" = 9
  dimension "d389" = 120
  dimension "d390" = 120
  dimension "d391" = 2
  dimension "d392" = 2
  dimension "d393" = 2
  dimension "d394" = 2
  dimension "d395" = 2
  dimension "d396" = 2
  dimension "d397" = 2
  dimension "d398" = 2
  dimension "d399" = 2
  dimension "d400" = 2
  dimension "d401" = 2
  dimension "d402" = 2
  dimension "d403" = 2
  dimension "d404" = 2
  dimension "d405" = 2
  dimension "d406" = 2.0032
  dimension "d407" = 2
  dimension "d408" = 2
  dimension "d409" = 3.75
  dimension "d410" = 3.75
  dimension "d411" = 3.75
  dimension "d412" = 3.75
  dimension "d413" = 3.75
  dimension "d414" = 3.75
  dimension "d415" = 3.75
  dimension "d416" = 3.75
  dimension "d417" = 3.75
  dimension "d418" = 3.75
  dimension "d419" = 3.75
  dimension "d420" = 3.75
  dimension "d421" = 3.75
  dimension "d422" = 3.75
  dimension "d423" = 1.85
  dimension "d424" = 1.85
  dimension "d425" = 1.85
  dimension "d426" = 1.85
  dimension "d427" = 1.85
  dimension "d428" = 1.85
  dimension "d429" = 1.85
  dimension "d430" = 1.85
  dimension "d431" = 1.85
  dimension "d432" = 1.85
  dimension "d433" = 1.85
  dimension "d434" = 1.85
extrude "Extrusion8" add sketch "Sketch1" along normal blind 1
properties part number "Pinky Finger Part"
